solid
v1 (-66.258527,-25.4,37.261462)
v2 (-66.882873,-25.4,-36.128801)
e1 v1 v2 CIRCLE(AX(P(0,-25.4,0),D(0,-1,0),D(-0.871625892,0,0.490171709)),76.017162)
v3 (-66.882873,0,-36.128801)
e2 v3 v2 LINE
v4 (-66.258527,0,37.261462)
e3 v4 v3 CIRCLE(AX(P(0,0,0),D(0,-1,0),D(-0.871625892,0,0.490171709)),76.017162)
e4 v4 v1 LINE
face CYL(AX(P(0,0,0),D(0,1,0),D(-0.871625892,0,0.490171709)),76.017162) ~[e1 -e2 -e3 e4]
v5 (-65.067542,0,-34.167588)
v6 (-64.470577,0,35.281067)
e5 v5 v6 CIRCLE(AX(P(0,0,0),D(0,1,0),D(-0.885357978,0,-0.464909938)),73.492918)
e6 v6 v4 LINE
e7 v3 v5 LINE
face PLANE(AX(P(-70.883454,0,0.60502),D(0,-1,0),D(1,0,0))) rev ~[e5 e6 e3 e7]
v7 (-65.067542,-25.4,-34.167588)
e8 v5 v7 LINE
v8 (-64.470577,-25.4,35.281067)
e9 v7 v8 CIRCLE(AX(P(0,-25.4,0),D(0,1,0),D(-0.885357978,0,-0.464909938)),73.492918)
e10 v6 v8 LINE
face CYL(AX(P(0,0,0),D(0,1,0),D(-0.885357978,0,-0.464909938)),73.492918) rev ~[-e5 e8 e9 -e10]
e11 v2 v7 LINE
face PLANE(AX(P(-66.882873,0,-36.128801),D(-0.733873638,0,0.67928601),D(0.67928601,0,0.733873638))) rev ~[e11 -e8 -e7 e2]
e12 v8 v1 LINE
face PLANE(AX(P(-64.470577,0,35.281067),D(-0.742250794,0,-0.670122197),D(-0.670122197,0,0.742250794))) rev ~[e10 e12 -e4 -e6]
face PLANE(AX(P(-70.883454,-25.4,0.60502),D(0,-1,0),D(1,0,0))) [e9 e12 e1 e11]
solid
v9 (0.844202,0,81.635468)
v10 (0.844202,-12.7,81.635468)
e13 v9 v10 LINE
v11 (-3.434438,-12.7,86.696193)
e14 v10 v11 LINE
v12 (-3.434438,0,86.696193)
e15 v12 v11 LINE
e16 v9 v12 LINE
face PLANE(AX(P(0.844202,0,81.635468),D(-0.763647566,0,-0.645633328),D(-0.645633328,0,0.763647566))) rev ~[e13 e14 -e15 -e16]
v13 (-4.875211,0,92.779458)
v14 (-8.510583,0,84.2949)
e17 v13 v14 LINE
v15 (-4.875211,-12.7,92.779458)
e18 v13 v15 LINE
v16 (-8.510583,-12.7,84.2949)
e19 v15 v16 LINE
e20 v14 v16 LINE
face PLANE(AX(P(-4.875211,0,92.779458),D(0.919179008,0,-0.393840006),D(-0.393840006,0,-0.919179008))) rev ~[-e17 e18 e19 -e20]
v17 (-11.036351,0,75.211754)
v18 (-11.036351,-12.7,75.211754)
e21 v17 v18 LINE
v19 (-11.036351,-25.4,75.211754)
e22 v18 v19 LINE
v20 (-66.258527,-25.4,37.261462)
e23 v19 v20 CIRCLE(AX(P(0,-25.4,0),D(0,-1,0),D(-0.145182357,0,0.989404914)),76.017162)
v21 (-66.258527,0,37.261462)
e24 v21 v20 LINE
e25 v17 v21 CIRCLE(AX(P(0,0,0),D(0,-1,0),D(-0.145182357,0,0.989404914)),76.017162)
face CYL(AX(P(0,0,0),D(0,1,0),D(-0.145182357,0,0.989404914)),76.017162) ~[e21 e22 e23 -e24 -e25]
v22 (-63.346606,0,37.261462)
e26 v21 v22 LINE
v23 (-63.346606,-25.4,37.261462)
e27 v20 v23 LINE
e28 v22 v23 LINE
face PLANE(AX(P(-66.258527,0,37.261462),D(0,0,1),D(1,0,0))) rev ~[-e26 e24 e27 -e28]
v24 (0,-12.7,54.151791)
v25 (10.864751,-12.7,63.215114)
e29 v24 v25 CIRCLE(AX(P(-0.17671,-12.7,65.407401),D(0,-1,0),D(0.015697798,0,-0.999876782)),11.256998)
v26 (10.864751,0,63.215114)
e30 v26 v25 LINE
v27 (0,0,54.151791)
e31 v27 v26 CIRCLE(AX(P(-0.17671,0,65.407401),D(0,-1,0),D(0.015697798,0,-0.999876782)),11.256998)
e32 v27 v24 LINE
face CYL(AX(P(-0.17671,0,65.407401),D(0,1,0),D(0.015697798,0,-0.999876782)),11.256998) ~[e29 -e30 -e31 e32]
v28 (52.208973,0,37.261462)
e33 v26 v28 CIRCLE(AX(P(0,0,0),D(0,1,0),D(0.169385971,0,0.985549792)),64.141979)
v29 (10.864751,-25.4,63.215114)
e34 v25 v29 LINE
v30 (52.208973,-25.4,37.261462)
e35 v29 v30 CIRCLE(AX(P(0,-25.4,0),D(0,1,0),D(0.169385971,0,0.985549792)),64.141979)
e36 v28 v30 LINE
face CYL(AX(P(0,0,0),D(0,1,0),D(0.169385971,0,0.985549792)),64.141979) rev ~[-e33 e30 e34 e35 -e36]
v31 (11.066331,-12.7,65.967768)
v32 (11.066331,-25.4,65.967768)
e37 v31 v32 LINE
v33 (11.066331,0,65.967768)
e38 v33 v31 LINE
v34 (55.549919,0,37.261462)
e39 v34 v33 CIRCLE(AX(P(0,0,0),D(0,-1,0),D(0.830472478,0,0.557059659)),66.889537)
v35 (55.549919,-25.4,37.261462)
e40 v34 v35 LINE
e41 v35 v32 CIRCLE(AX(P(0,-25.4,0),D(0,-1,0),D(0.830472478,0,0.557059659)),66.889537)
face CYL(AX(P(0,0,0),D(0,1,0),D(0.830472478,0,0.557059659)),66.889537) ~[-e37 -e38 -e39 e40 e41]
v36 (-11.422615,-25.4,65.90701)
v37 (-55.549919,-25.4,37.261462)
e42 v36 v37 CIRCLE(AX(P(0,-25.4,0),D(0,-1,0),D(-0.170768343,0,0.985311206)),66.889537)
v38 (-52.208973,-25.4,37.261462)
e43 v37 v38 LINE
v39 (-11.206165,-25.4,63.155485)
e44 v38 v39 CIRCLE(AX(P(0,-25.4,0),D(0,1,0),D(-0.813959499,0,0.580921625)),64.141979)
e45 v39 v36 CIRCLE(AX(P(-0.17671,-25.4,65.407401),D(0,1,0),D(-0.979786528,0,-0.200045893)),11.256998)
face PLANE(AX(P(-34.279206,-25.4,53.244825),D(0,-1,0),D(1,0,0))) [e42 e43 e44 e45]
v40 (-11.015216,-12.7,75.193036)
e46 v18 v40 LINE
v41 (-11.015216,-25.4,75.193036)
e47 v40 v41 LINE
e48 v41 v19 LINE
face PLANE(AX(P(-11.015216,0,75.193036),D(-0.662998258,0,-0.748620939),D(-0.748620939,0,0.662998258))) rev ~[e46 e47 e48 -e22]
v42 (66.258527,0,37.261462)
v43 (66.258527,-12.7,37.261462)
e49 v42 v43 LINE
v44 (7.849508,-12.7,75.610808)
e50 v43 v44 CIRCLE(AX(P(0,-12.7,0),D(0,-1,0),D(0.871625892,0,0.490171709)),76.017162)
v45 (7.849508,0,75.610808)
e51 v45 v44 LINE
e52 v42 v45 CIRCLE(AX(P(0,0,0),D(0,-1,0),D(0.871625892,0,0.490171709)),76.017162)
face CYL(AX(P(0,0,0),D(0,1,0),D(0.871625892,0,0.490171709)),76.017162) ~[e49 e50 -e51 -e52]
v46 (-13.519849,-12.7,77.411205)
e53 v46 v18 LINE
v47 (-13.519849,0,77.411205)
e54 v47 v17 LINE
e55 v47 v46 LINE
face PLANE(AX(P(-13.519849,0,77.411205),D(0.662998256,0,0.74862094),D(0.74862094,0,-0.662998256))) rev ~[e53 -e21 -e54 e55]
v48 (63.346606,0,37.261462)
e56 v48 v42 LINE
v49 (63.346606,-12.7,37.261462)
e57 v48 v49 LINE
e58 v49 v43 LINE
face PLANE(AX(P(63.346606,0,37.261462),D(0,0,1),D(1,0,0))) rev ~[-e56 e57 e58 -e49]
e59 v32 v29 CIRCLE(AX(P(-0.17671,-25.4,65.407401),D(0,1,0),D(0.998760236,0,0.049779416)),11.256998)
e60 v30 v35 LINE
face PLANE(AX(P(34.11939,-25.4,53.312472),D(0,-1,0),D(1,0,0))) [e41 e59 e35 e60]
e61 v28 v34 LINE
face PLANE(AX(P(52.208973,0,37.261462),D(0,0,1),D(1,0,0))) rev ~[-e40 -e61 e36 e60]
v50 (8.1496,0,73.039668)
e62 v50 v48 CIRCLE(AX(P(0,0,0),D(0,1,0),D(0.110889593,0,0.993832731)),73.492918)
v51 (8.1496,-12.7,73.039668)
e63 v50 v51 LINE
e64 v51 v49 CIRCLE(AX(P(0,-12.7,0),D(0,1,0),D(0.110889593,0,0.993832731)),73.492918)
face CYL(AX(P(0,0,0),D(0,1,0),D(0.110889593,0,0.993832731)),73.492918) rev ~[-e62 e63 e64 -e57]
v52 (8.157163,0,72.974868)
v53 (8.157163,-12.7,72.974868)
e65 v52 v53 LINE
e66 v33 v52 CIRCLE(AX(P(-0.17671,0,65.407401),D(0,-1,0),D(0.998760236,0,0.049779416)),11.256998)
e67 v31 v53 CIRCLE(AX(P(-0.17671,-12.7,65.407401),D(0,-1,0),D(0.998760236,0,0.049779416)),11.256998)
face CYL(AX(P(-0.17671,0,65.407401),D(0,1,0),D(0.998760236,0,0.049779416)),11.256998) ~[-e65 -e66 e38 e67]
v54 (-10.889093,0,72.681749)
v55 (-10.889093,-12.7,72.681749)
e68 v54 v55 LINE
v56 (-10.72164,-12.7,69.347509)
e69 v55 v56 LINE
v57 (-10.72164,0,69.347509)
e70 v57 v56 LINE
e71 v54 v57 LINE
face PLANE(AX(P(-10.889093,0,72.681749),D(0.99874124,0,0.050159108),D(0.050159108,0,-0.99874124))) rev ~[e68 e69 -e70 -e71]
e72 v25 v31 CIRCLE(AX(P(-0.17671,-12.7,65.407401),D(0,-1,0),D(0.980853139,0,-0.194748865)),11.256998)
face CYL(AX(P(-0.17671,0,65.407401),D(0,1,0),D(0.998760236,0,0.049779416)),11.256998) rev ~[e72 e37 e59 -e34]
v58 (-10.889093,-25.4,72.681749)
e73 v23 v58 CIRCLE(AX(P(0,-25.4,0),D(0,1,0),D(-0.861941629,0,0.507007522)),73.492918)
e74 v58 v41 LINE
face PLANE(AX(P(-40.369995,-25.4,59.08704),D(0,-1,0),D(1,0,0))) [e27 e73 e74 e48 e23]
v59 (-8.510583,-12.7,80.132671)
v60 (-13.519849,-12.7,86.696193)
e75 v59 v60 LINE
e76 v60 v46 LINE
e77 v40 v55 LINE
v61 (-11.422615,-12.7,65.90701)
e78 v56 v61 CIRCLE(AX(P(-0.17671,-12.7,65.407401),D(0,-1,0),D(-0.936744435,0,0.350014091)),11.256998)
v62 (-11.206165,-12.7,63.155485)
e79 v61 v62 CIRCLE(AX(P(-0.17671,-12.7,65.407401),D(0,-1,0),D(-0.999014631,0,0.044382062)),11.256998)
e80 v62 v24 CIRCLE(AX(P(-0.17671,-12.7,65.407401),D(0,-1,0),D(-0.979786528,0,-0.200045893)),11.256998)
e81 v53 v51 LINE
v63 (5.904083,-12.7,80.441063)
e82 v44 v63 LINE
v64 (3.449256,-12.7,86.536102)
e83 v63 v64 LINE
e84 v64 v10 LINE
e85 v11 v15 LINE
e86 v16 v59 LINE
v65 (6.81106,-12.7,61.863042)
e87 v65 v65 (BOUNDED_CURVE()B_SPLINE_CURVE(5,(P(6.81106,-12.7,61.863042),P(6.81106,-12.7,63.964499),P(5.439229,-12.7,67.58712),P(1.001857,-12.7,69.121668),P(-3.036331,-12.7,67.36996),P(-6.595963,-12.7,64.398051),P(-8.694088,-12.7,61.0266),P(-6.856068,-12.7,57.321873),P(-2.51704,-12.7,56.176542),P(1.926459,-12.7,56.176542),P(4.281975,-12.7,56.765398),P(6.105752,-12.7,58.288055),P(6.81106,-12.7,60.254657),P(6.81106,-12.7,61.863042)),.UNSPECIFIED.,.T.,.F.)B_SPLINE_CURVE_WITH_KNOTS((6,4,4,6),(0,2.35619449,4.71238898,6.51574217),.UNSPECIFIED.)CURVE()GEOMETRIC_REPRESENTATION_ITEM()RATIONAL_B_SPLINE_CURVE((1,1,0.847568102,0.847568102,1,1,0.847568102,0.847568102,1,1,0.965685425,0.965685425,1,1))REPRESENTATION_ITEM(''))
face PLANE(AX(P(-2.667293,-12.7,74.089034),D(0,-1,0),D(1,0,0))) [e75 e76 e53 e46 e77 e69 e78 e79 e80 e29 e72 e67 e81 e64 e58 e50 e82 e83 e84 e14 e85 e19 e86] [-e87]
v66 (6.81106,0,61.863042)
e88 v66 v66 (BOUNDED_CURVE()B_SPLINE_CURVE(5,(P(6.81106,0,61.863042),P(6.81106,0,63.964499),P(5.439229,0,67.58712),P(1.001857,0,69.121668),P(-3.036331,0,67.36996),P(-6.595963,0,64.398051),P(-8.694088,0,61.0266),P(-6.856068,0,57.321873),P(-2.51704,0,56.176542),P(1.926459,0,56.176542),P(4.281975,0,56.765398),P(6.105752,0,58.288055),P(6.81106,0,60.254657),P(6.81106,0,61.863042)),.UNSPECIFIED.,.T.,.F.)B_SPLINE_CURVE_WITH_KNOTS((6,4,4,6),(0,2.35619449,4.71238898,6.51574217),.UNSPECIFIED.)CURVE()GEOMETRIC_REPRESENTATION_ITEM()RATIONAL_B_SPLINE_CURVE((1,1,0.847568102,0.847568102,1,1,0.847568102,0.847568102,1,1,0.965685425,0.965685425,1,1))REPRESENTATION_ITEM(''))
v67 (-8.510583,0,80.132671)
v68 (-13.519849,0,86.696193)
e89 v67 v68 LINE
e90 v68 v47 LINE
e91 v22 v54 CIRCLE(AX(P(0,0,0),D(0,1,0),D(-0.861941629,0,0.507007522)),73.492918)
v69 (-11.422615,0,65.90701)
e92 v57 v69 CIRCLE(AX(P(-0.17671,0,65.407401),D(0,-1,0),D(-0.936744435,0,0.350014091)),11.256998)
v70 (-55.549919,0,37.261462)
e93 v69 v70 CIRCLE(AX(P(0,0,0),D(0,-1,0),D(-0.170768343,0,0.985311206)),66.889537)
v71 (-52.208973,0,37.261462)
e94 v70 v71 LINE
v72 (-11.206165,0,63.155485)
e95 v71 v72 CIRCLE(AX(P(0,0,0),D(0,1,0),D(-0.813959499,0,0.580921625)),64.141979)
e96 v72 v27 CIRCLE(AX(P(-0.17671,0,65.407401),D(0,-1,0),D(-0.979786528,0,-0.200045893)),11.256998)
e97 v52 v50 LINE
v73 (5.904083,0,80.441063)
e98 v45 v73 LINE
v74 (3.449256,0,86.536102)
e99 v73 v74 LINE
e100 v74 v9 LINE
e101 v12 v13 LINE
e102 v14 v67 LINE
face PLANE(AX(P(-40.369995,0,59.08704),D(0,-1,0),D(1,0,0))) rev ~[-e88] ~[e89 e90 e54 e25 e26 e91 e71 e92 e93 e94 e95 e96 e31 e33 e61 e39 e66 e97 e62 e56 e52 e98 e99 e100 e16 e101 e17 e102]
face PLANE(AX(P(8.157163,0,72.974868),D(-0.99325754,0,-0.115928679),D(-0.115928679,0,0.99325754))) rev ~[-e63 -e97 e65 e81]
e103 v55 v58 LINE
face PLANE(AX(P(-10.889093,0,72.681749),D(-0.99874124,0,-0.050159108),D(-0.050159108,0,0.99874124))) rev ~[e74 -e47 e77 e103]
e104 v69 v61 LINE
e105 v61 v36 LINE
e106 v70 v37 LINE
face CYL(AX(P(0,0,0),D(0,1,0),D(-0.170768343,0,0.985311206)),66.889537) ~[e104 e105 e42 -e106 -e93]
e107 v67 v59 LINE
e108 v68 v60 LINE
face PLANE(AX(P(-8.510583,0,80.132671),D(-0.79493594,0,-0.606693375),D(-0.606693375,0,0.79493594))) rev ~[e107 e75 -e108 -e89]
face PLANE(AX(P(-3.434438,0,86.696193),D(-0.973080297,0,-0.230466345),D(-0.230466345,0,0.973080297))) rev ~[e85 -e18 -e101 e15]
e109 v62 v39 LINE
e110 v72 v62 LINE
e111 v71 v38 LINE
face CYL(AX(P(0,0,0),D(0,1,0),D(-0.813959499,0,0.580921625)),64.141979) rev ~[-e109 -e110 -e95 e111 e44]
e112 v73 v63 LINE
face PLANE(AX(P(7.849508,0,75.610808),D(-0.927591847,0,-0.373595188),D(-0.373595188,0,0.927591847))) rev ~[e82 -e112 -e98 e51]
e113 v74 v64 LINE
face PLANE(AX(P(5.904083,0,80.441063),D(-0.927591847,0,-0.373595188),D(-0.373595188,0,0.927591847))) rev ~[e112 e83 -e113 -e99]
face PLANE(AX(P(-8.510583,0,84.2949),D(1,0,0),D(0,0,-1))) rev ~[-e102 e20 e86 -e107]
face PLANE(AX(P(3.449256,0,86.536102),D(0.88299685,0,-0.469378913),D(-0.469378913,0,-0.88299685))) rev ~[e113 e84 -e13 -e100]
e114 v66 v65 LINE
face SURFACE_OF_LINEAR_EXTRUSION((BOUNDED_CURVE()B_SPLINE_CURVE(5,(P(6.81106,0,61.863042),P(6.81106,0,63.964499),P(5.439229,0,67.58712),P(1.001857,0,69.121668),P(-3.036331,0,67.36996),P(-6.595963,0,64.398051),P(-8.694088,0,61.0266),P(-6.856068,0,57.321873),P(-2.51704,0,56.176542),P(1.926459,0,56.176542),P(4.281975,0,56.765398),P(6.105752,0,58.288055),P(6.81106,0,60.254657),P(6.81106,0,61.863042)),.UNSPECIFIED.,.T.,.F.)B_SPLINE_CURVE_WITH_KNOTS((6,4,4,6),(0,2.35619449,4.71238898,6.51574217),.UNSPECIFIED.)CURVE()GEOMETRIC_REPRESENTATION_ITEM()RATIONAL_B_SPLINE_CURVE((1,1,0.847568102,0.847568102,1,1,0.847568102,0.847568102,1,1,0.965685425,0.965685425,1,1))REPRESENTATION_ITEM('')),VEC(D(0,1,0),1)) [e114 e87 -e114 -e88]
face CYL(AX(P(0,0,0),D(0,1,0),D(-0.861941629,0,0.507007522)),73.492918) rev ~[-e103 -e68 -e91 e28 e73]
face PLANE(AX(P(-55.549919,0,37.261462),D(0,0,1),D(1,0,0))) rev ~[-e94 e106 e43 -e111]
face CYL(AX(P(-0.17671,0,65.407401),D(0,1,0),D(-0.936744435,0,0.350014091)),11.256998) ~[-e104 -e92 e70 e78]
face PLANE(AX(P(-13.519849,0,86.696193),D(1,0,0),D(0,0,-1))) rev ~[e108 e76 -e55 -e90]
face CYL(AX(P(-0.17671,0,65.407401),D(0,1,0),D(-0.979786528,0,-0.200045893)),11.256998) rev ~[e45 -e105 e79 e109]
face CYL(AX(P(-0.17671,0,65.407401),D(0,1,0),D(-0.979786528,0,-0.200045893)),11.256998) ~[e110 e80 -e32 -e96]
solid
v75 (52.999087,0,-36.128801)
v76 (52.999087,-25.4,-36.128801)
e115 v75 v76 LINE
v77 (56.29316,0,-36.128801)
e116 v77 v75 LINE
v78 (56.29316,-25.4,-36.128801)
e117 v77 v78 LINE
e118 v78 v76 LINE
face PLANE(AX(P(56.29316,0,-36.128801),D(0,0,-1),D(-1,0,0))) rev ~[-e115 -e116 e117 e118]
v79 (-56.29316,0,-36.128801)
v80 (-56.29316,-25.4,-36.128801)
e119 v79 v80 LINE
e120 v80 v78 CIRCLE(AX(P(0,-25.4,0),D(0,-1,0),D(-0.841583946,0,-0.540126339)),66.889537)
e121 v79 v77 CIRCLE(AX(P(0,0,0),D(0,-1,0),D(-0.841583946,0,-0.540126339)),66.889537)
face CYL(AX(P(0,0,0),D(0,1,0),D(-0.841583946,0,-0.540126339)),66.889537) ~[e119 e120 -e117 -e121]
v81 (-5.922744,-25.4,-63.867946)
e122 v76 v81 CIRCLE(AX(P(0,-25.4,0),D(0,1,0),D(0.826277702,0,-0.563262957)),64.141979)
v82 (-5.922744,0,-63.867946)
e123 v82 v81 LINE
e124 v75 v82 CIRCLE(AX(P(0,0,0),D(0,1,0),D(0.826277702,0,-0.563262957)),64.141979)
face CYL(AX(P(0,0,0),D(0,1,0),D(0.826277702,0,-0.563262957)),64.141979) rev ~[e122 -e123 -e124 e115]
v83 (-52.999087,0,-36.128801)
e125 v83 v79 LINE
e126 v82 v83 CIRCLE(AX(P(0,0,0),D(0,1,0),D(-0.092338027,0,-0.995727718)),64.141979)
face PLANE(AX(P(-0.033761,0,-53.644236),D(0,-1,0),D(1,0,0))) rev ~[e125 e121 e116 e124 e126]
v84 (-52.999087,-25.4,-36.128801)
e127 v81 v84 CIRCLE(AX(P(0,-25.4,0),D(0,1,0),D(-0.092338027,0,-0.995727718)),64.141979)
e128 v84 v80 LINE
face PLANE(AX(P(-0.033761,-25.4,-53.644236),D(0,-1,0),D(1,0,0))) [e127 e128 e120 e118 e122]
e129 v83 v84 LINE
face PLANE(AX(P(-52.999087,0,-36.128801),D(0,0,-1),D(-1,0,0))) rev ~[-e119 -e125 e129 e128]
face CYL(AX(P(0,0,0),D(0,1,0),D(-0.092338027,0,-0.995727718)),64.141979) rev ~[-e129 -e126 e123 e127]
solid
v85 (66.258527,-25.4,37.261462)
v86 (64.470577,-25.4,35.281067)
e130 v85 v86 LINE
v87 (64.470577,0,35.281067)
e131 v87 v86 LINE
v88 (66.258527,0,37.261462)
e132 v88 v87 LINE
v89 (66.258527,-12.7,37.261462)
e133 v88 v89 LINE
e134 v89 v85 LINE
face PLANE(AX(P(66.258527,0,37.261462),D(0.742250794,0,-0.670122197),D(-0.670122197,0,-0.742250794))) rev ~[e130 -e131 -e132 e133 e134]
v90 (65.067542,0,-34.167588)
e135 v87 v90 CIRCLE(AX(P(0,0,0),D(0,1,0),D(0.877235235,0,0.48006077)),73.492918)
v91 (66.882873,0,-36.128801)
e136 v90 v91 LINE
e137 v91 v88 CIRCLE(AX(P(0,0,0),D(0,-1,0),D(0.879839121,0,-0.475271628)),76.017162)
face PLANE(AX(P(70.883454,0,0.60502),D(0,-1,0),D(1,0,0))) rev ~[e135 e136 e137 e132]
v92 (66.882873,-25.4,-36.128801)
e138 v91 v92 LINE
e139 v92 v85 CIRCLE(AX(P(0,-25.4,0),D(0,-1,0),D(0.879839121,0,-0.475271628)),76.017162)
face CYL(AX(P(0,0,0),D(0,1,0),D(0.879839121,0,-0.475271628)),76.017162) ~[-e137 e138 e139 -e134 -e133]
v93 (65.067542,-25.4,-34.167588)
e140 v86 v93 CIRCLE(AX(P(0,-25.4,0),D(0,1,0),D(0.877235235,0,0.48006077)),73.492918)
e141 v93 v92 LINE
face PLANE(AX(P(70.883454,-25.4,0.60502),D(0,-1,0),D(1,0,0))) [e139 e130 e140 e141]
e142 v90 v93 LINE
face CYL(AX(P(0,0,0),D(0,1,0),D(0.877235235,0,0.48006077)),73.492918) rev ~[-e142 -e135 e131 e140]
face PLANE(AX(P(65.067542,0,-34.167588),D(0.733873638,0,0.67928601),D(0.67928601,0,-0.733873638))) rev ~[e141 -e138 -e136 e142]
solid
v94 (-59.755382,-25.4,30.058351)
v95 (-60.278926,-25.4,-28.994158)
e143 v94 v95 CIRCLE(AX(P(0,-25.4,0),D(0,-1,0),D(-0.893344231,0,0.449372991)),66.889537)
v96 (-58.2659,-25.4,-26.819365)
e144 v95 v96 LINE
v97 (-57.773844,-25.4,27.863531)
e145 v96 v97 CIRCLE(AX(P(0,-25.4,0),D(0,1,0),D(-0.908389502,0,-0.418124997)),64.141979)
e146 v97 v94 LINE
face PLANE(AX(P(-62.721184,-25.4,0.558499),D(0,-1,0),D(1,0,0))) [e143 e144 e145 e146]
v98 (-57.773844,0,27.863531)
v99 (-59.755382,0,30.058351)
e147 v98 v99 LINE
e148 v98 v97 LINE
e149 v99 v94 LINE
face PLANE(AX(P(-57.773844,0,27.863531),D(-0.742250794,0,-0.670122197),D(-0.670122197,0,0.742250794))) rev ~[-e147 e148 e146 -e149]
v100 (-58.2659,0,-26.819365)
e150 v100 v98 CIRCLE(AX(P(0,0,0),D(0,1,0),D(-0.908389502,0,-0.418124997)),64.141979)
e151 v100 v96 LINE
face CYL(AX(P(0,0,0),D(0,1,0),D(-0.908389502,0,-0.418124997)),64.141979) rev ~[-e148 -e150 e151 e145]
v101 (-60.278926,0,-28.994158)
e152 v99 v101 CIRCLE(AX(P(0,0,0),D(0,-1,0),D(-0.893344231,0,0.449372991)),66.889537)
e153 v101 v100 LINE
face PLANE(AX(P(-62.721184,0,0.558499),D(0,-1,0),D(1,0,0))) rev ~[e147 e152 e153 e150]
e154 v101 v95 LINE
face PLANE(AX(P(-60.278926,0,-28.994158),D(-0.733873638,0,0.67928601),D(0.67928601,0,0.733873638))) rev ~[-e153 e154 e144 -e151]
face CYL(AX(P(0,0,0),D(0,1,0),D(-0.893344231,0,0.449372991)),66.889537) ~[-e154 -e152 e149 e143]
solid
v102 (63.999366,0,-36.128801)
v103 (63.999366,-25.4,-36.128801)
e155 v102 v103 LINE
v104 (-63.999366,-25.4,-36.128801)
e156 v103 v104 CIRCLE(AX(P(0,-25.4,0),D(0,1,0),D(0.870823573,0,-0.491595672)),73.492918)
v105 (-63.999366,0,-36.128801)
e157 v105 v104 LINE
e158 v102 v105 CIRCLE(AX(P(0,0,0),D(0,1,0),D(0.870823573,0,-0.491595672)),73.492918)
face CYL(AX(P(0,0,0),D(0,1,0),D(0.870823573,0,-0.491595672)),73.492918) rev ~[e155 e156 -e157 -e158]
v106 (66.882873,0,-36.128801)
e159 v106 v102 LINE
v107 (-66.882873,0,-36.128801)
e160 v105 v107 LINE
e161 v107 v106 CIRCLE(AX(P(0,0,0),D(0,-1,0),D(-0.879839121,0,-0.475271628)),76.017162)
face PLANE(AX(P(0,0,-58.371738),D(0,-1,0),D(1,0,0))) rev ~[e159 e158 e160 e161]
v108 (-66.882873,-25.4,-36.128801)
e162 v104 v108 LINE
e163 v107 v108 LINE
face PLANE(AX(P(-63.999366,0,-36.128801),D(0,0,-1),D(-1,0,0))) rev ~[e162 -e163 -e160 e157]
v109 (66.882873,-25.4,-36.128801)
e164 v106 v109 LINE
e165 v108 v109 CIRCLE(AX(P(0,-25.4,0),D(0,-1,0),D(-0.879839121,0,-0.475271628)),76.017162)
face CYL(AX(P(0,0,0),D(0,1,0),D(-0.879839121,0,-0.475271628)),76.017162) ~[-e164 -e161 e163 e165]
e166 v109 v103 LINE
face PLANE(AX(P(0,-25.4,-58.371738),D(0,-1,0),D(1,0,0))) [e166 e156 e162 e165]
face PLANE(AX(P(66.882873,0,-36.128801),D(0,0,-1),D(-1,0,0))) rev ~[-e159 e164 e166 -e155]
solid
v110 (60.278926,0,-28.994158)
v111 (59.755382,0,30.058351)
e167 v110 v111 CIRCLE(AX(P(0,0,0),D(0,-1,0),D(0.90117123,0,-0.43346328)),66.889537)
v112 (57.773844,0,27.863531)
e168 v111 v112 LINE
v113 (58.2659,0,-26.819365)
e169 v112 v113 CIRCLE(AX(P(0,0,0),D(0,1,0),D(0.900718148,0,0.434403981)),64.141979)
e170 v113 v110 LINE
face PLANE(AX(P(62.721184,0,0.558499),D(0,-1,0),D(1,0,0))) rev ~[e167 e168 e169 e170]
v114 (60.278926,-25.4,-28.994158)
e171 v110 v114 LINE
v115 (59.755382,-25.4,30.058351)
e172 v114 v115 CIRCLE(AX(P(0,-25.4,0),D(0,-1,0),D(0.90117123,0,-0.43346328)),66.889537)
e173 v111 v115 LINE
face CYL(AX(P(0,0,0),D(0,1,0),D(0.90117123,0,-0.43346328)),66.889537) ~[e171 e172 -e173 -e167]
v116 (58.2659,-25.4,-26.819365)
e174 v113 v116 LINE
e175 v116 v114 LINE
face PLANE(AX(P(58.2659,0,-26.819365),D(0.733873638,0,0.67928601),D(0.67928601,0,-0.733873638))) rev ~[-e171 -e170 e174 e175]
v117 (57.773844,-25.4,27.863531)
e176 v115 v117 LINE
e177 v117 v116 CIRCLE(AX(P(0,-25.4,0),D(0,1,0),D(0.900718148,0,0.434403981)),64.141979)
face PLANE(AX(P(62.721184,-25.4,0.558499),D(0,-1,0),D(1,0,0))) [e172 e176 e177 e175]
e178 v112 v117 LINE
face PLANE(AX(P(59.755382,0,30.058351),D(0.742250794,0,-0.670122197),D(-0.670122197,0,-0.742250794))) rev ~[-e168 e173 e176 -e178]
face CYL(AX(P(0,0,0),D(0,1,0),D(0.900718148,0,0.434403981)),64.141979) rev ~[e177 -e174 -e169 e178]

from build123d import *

# Parameters (mm, degrees)
F1_DEPTH = 12.7
F2_DEPTH = 12.7
F3_DEPTH = 25.4


with BuildPart() as f1:
    # F0 (on Front) → F1 (new body)
    with BuildSketch(Plane.XZ):
        with BuildLine():
            Line((63.3466057456, 37.2614624353), (66.2585269888, 37.2614624353))
            ThreePointArc((66.2585269888, 37.2614624353), (41.7213166691, 63.5447929963), (7.8495076022, 75.6108075076))
            Line((7.8495076022, 75.6108075076), (8.149599797, 73.039667753))
            ThreePointArc((8.149599797, 73.039667753), (39.9743273325, 61.670594262), (63.3466057456, 37.2614624353))
        make_face()
    extrude(amount=F1_DEPTH)

    # F0 (on Front) → F2 (join)
    with BuildSketch(Plane.XZ):
        with BuildLine():
            Line((-13.5198486969, 77.4112045765), (-11.0363508402, 75.2117540128))
            Line((-11.0363508402, 75.2117540128), (-11.0152158886, 75.1930363476))
            Line((-11.0152158886, 75.1930363476), (-10.8890932148, 72.6817493686))
            Line((-10.8890932148, 72.6817493686), (-10.7216399074, 69.3475089983))
            ThreePointArc((-10.7216399074, 69.3475089983), (-11.2070945673, 67.6547579778), (-11.4226153517, 65.9070099881))
            ThreePointArc((-11.4226153517, 65.9070099881), (-11.3990376589, 64.5245886753), (-11.2061646472, 63.1554851017))
            ThreePointArc((-11.2061646472, 63.1554851017), (-7.2273940073, 56.6319895305), (0, 54.1517907207))
            ThreePointArc((0, 54.1517907207), (7.0342398464, 56.7632011171), (10.8647513242, 63.2151137245))
            ThreePointArc((10.8647513242, 63.2151137245), (11.0502238061, 64.5852394677), (11.0663314804, 65.9677679978))
            ThreePointArc((11.0663314804, 65.9677679978), (10.219864309, 69.7237927096), (8.1571629271, 72.9748681188))
            Line((8.1571629271, 72.9748681188), (8.149599797, 73.039667753))
            Line((8.149599797, 73.039667753), (7.8495076022, 75.6108075076))
            Line((7.8495076022, 75.6108075076), (5.9040827809, 80.4410629841))
            Line((5.9040827809, 80.4410629841), (3.4492560662, 86.5361019969))
            Line((3.4492560662, 86.5361019969), (0.8442020878, 81.6354675754))
            Line((0.8442020878, 81.6354675754), (-3.4344375599, 86.6961926222))
            Line((-3.4344375599, 86.6961926222), (-4.8752105795, 92.7794575691))
            Line((-4.8752105795, 92.7794575691), (-7.2979036912, 87.1251598455))
            Line((-7.2979036912, 87.1251598455), (-8.5105830804, 84.2949002981))
            Line((-8.5105830804, 84.2949002981), (-8.5105830804, 80.1326707005))
            Line((-8.5105830804, 80.1326707005), (-13.5198486969, 86.6961926222))
            Line((-13.5198486969, 86.6961926222), (-13.5198486969, 77.4112045765))
        make_face()
        with BuildLine():
            add(Edge.make_bspline(
                [(0, 56.1765415512), (6.811060477, 56.1765415512), (6.811060477, 61.8630424142)],
                knots=[4.7123889804, 4.7123889804, 4.7123889804, 6.2831853072, 6.2831853072, 6.2831853072], degree=2, weights=[1, 0.7071067812, 1]))
            add(Edge.make_bspline(
                [(6.811060477, 61.8630424142), (6.811060477, 75.59146992), (-4.8161470504, 65.8840057356), (-16.4433545778, 56.1765415512), (0, 56.1765415512)],
                knots=[0, 0, 0, 2.3561944902, 2.3561944902, 4.7123889804, 4.7123889804, 4.7123889804], degree=2, weights=[1, 0.3826834324, 1, 0.3826834324, 1]))
        make_face(mode=Mode.SUBTRACT)
    extrude(amount=F2_DEPTH)



with BuildPart() as f3:
    # F0 (on Front) → F3 (new body)
    with BuildSketch(Plane.XZ):
        with BuildLine():
            Line((-64.4705774478, 35.2810669604), (-66.2585269888, 37.2614624353))
            ThreePointArc((-66.2585269888, 37.2614624353), (-76.0144117829, 0.6466705791), (-66.8828733826, -36.1288005563))
            Line((-66.8828733826, -36.1288005563), (-65.0675415569, -34.1675881216))
            ThreePointArc((-65.0675415569, -34.1675881216), (-73.4902033743, 0.6317042963), (-64.4705774478, 35.2810669604))
        make_face()
    extrude(amount=F3_DEPTH)

    # F0 (on Front) → F3, piece 3 (join)
    with BuildSketch(Plane.XZ):
        with BuildLine():
            Line((-63.9993657209, -36.1288005563), (-66.8828733826, -36.1288005563))
            ThreePointArc((-66.8828733826, -36.1288005563), (0, -76.0171624144), (66.8828733826, -36.1288005563))
            Line((66.8828733826, -36.1288005563), (63.9993657209, -36.1288005563))
            ThreePointArc((63.9993657209, -36.1288005563), (0, -73.492918314), (-63.9993657209, -36.1288005563))
        make_face()
    extrude(amount=F3_DEPTH)


with BuildPart() as f3b:
    # F0 (on Front) → F3, piece 2 (new body)
    with BuildSketch(Plane.XZ):
        with BuildLine():
            Line((-57.773844186, 27.8635308694), (-59.7553816497, 30.0583511016))
            ThreePointArc((-59.7553816497, 30.0583511016), (-66.8869079538, 0.593002054), (-60.2789259459, -28.9941579264))
            Line((-60.2789259459, -28.9941579264), (-58.26590002, -26.8193646344))
            ThreePointArc((-58.26590002, -26.8193646344), (-64.1393820053, 0.5771486096), (-57.773844186, 27.8635308694))
        make_face()
    extrude(amount=F3_DEPTH)


with BuildPart() as f3c:
    # F0 (on Front) → F3, piece 4 (new body)
    with BuildSketch(Plane.XZ):
        with BuildLine():
            Line((-52.9990867365, -36.1288005563), (-56.2931601299, -36.1288005563))
            ThreePointArc((-56.2931601299, -36.1288005563), (0, -66.8895366036), (56.2931601299, -36.1288005563))
            Line((56.2931601299, -36.1288005563), (52.9990867365, -36.1288005563))
            ThreePointArc((52.9990867365, -36.1288005563), (27.3205154762, -58.0326016877), (-5.9227437242, -63.8679460396))
            ThreePointArc((-5.9227437242, -63.8679460396), (-32.5624104489, -55.2619475796), (-52.9990867365, -36.1288005563))
        make_face()
    extrude(amount=F3_DEPTH)


with BuildPart() as f3d:
    # F0 (on Front) → F3, piece 5 (new body)
    with BuildSketch(Plane.XZ):
        with BuildLine():
            Line((58.26590002, -26.8193646344), (60.2789259459, -28.9941579264))
            ThreePointArc((60.2789259459, -28.9941579264), (66.8869079538, 0.593002054), (59.7553816497, 30.0583511016))
            Line((59.7553816497, 30.0583511016), (57.773844186, 27.8635308694))
            ThreePointArc((57.773844186, 27.8635308694), (64.1393820053, 0.5771486096), (58.26590002, -26.8193646344))
        make_face()
    extrude(amount=F3_DEPTH)


with BuildPart() as f1_1:
    add(f1.part)

    add(f3.part)  # F3#6 merges F3
    # F0 (on Front) → F3, piece 6 (join)
    with BuildSketch(Plane.XZ):
        with BuildLine():
            Line((-11.0152158886, 75.1930363476), (-11.0363508402, 75.2117540128))
            ThreePointArc((-11.0363508402, 75.2117540128), (-43.0543922539, 62.6492481135), (-66.2585269888, 37.2614624353))
            Line((-66.2585269888, 37.2614624353), (-63.3466057456, 37.2614624353))
            ThreePointArc((-63.3466057456, 37.2614624353), (-41.1264383535, 60.9083336718), (-10.8890932148, 72.6817493686))
            Line((-10.8890932148, 72.6817493686), (-11.0152158886, 75.1930363476))
        make_face()
        with BuildLine():
            ThreePointArc((-11.4226153517, 65.9070099881), (-36.4207625545, 56.1047071287), (-55.5499192099, 37.2614624353))
            Line((-55.5499192099, 37.2614624353), (-52.2089728085, 37.2614624353))
            ThreePointArc((-52.2089728085, 37.2614624353), (-34.2490148339, 54.2328167021), (-11.2061646472, 63.1554851017))
            ThreePointArc((-11.2061646472, 63.1554851017), (-11.3990376589, 64.5245886753), (-11.4226153517, 65.9070099881))
        make_face()
        with BuildLine():
            ThreePointArc((10.8647513242, 63.2151137245), (34.1023704865, 54.3251484281), (52.2089728085, 37.2614624353))
            Line((52.2089728085, 37.2614624353), (55.5499192099, 37.2614624353))
            ThreePointArc((55.5499192099, 37.2614624353), (36.2690530449, 56.2028993761), (11.0663314804, 65.9677679978))
            ThreePointArc((11.0663314804, 65.9677679978), (11.0502238061, 64.5852394677), (10.8647513242, 63.2151137245))
        make_face()
        with BuildLine():
            Line((65.0675415569, -34.1675881216), (66.8828733826, -36.1288005563))
            ThreePointArc((66.8828733826, -36.1288005563), (76.0144117829, 0.6466705791), (66.2585269888, 37.2614624353))
            Line((66.2585269888, 37.2614624353), (64.4705774478, 35.2810669604))
            ThreePointArc((64.4705774478, 35.2810669604), (73.4902033743, 0.6317042963), (65.0675415569, -34.1675881216))
        make_face()
    extrude(amount=F3_DEPTH)


solid = Compound([f3b.part, f3c.part, f3d.part, f1_1.part])
